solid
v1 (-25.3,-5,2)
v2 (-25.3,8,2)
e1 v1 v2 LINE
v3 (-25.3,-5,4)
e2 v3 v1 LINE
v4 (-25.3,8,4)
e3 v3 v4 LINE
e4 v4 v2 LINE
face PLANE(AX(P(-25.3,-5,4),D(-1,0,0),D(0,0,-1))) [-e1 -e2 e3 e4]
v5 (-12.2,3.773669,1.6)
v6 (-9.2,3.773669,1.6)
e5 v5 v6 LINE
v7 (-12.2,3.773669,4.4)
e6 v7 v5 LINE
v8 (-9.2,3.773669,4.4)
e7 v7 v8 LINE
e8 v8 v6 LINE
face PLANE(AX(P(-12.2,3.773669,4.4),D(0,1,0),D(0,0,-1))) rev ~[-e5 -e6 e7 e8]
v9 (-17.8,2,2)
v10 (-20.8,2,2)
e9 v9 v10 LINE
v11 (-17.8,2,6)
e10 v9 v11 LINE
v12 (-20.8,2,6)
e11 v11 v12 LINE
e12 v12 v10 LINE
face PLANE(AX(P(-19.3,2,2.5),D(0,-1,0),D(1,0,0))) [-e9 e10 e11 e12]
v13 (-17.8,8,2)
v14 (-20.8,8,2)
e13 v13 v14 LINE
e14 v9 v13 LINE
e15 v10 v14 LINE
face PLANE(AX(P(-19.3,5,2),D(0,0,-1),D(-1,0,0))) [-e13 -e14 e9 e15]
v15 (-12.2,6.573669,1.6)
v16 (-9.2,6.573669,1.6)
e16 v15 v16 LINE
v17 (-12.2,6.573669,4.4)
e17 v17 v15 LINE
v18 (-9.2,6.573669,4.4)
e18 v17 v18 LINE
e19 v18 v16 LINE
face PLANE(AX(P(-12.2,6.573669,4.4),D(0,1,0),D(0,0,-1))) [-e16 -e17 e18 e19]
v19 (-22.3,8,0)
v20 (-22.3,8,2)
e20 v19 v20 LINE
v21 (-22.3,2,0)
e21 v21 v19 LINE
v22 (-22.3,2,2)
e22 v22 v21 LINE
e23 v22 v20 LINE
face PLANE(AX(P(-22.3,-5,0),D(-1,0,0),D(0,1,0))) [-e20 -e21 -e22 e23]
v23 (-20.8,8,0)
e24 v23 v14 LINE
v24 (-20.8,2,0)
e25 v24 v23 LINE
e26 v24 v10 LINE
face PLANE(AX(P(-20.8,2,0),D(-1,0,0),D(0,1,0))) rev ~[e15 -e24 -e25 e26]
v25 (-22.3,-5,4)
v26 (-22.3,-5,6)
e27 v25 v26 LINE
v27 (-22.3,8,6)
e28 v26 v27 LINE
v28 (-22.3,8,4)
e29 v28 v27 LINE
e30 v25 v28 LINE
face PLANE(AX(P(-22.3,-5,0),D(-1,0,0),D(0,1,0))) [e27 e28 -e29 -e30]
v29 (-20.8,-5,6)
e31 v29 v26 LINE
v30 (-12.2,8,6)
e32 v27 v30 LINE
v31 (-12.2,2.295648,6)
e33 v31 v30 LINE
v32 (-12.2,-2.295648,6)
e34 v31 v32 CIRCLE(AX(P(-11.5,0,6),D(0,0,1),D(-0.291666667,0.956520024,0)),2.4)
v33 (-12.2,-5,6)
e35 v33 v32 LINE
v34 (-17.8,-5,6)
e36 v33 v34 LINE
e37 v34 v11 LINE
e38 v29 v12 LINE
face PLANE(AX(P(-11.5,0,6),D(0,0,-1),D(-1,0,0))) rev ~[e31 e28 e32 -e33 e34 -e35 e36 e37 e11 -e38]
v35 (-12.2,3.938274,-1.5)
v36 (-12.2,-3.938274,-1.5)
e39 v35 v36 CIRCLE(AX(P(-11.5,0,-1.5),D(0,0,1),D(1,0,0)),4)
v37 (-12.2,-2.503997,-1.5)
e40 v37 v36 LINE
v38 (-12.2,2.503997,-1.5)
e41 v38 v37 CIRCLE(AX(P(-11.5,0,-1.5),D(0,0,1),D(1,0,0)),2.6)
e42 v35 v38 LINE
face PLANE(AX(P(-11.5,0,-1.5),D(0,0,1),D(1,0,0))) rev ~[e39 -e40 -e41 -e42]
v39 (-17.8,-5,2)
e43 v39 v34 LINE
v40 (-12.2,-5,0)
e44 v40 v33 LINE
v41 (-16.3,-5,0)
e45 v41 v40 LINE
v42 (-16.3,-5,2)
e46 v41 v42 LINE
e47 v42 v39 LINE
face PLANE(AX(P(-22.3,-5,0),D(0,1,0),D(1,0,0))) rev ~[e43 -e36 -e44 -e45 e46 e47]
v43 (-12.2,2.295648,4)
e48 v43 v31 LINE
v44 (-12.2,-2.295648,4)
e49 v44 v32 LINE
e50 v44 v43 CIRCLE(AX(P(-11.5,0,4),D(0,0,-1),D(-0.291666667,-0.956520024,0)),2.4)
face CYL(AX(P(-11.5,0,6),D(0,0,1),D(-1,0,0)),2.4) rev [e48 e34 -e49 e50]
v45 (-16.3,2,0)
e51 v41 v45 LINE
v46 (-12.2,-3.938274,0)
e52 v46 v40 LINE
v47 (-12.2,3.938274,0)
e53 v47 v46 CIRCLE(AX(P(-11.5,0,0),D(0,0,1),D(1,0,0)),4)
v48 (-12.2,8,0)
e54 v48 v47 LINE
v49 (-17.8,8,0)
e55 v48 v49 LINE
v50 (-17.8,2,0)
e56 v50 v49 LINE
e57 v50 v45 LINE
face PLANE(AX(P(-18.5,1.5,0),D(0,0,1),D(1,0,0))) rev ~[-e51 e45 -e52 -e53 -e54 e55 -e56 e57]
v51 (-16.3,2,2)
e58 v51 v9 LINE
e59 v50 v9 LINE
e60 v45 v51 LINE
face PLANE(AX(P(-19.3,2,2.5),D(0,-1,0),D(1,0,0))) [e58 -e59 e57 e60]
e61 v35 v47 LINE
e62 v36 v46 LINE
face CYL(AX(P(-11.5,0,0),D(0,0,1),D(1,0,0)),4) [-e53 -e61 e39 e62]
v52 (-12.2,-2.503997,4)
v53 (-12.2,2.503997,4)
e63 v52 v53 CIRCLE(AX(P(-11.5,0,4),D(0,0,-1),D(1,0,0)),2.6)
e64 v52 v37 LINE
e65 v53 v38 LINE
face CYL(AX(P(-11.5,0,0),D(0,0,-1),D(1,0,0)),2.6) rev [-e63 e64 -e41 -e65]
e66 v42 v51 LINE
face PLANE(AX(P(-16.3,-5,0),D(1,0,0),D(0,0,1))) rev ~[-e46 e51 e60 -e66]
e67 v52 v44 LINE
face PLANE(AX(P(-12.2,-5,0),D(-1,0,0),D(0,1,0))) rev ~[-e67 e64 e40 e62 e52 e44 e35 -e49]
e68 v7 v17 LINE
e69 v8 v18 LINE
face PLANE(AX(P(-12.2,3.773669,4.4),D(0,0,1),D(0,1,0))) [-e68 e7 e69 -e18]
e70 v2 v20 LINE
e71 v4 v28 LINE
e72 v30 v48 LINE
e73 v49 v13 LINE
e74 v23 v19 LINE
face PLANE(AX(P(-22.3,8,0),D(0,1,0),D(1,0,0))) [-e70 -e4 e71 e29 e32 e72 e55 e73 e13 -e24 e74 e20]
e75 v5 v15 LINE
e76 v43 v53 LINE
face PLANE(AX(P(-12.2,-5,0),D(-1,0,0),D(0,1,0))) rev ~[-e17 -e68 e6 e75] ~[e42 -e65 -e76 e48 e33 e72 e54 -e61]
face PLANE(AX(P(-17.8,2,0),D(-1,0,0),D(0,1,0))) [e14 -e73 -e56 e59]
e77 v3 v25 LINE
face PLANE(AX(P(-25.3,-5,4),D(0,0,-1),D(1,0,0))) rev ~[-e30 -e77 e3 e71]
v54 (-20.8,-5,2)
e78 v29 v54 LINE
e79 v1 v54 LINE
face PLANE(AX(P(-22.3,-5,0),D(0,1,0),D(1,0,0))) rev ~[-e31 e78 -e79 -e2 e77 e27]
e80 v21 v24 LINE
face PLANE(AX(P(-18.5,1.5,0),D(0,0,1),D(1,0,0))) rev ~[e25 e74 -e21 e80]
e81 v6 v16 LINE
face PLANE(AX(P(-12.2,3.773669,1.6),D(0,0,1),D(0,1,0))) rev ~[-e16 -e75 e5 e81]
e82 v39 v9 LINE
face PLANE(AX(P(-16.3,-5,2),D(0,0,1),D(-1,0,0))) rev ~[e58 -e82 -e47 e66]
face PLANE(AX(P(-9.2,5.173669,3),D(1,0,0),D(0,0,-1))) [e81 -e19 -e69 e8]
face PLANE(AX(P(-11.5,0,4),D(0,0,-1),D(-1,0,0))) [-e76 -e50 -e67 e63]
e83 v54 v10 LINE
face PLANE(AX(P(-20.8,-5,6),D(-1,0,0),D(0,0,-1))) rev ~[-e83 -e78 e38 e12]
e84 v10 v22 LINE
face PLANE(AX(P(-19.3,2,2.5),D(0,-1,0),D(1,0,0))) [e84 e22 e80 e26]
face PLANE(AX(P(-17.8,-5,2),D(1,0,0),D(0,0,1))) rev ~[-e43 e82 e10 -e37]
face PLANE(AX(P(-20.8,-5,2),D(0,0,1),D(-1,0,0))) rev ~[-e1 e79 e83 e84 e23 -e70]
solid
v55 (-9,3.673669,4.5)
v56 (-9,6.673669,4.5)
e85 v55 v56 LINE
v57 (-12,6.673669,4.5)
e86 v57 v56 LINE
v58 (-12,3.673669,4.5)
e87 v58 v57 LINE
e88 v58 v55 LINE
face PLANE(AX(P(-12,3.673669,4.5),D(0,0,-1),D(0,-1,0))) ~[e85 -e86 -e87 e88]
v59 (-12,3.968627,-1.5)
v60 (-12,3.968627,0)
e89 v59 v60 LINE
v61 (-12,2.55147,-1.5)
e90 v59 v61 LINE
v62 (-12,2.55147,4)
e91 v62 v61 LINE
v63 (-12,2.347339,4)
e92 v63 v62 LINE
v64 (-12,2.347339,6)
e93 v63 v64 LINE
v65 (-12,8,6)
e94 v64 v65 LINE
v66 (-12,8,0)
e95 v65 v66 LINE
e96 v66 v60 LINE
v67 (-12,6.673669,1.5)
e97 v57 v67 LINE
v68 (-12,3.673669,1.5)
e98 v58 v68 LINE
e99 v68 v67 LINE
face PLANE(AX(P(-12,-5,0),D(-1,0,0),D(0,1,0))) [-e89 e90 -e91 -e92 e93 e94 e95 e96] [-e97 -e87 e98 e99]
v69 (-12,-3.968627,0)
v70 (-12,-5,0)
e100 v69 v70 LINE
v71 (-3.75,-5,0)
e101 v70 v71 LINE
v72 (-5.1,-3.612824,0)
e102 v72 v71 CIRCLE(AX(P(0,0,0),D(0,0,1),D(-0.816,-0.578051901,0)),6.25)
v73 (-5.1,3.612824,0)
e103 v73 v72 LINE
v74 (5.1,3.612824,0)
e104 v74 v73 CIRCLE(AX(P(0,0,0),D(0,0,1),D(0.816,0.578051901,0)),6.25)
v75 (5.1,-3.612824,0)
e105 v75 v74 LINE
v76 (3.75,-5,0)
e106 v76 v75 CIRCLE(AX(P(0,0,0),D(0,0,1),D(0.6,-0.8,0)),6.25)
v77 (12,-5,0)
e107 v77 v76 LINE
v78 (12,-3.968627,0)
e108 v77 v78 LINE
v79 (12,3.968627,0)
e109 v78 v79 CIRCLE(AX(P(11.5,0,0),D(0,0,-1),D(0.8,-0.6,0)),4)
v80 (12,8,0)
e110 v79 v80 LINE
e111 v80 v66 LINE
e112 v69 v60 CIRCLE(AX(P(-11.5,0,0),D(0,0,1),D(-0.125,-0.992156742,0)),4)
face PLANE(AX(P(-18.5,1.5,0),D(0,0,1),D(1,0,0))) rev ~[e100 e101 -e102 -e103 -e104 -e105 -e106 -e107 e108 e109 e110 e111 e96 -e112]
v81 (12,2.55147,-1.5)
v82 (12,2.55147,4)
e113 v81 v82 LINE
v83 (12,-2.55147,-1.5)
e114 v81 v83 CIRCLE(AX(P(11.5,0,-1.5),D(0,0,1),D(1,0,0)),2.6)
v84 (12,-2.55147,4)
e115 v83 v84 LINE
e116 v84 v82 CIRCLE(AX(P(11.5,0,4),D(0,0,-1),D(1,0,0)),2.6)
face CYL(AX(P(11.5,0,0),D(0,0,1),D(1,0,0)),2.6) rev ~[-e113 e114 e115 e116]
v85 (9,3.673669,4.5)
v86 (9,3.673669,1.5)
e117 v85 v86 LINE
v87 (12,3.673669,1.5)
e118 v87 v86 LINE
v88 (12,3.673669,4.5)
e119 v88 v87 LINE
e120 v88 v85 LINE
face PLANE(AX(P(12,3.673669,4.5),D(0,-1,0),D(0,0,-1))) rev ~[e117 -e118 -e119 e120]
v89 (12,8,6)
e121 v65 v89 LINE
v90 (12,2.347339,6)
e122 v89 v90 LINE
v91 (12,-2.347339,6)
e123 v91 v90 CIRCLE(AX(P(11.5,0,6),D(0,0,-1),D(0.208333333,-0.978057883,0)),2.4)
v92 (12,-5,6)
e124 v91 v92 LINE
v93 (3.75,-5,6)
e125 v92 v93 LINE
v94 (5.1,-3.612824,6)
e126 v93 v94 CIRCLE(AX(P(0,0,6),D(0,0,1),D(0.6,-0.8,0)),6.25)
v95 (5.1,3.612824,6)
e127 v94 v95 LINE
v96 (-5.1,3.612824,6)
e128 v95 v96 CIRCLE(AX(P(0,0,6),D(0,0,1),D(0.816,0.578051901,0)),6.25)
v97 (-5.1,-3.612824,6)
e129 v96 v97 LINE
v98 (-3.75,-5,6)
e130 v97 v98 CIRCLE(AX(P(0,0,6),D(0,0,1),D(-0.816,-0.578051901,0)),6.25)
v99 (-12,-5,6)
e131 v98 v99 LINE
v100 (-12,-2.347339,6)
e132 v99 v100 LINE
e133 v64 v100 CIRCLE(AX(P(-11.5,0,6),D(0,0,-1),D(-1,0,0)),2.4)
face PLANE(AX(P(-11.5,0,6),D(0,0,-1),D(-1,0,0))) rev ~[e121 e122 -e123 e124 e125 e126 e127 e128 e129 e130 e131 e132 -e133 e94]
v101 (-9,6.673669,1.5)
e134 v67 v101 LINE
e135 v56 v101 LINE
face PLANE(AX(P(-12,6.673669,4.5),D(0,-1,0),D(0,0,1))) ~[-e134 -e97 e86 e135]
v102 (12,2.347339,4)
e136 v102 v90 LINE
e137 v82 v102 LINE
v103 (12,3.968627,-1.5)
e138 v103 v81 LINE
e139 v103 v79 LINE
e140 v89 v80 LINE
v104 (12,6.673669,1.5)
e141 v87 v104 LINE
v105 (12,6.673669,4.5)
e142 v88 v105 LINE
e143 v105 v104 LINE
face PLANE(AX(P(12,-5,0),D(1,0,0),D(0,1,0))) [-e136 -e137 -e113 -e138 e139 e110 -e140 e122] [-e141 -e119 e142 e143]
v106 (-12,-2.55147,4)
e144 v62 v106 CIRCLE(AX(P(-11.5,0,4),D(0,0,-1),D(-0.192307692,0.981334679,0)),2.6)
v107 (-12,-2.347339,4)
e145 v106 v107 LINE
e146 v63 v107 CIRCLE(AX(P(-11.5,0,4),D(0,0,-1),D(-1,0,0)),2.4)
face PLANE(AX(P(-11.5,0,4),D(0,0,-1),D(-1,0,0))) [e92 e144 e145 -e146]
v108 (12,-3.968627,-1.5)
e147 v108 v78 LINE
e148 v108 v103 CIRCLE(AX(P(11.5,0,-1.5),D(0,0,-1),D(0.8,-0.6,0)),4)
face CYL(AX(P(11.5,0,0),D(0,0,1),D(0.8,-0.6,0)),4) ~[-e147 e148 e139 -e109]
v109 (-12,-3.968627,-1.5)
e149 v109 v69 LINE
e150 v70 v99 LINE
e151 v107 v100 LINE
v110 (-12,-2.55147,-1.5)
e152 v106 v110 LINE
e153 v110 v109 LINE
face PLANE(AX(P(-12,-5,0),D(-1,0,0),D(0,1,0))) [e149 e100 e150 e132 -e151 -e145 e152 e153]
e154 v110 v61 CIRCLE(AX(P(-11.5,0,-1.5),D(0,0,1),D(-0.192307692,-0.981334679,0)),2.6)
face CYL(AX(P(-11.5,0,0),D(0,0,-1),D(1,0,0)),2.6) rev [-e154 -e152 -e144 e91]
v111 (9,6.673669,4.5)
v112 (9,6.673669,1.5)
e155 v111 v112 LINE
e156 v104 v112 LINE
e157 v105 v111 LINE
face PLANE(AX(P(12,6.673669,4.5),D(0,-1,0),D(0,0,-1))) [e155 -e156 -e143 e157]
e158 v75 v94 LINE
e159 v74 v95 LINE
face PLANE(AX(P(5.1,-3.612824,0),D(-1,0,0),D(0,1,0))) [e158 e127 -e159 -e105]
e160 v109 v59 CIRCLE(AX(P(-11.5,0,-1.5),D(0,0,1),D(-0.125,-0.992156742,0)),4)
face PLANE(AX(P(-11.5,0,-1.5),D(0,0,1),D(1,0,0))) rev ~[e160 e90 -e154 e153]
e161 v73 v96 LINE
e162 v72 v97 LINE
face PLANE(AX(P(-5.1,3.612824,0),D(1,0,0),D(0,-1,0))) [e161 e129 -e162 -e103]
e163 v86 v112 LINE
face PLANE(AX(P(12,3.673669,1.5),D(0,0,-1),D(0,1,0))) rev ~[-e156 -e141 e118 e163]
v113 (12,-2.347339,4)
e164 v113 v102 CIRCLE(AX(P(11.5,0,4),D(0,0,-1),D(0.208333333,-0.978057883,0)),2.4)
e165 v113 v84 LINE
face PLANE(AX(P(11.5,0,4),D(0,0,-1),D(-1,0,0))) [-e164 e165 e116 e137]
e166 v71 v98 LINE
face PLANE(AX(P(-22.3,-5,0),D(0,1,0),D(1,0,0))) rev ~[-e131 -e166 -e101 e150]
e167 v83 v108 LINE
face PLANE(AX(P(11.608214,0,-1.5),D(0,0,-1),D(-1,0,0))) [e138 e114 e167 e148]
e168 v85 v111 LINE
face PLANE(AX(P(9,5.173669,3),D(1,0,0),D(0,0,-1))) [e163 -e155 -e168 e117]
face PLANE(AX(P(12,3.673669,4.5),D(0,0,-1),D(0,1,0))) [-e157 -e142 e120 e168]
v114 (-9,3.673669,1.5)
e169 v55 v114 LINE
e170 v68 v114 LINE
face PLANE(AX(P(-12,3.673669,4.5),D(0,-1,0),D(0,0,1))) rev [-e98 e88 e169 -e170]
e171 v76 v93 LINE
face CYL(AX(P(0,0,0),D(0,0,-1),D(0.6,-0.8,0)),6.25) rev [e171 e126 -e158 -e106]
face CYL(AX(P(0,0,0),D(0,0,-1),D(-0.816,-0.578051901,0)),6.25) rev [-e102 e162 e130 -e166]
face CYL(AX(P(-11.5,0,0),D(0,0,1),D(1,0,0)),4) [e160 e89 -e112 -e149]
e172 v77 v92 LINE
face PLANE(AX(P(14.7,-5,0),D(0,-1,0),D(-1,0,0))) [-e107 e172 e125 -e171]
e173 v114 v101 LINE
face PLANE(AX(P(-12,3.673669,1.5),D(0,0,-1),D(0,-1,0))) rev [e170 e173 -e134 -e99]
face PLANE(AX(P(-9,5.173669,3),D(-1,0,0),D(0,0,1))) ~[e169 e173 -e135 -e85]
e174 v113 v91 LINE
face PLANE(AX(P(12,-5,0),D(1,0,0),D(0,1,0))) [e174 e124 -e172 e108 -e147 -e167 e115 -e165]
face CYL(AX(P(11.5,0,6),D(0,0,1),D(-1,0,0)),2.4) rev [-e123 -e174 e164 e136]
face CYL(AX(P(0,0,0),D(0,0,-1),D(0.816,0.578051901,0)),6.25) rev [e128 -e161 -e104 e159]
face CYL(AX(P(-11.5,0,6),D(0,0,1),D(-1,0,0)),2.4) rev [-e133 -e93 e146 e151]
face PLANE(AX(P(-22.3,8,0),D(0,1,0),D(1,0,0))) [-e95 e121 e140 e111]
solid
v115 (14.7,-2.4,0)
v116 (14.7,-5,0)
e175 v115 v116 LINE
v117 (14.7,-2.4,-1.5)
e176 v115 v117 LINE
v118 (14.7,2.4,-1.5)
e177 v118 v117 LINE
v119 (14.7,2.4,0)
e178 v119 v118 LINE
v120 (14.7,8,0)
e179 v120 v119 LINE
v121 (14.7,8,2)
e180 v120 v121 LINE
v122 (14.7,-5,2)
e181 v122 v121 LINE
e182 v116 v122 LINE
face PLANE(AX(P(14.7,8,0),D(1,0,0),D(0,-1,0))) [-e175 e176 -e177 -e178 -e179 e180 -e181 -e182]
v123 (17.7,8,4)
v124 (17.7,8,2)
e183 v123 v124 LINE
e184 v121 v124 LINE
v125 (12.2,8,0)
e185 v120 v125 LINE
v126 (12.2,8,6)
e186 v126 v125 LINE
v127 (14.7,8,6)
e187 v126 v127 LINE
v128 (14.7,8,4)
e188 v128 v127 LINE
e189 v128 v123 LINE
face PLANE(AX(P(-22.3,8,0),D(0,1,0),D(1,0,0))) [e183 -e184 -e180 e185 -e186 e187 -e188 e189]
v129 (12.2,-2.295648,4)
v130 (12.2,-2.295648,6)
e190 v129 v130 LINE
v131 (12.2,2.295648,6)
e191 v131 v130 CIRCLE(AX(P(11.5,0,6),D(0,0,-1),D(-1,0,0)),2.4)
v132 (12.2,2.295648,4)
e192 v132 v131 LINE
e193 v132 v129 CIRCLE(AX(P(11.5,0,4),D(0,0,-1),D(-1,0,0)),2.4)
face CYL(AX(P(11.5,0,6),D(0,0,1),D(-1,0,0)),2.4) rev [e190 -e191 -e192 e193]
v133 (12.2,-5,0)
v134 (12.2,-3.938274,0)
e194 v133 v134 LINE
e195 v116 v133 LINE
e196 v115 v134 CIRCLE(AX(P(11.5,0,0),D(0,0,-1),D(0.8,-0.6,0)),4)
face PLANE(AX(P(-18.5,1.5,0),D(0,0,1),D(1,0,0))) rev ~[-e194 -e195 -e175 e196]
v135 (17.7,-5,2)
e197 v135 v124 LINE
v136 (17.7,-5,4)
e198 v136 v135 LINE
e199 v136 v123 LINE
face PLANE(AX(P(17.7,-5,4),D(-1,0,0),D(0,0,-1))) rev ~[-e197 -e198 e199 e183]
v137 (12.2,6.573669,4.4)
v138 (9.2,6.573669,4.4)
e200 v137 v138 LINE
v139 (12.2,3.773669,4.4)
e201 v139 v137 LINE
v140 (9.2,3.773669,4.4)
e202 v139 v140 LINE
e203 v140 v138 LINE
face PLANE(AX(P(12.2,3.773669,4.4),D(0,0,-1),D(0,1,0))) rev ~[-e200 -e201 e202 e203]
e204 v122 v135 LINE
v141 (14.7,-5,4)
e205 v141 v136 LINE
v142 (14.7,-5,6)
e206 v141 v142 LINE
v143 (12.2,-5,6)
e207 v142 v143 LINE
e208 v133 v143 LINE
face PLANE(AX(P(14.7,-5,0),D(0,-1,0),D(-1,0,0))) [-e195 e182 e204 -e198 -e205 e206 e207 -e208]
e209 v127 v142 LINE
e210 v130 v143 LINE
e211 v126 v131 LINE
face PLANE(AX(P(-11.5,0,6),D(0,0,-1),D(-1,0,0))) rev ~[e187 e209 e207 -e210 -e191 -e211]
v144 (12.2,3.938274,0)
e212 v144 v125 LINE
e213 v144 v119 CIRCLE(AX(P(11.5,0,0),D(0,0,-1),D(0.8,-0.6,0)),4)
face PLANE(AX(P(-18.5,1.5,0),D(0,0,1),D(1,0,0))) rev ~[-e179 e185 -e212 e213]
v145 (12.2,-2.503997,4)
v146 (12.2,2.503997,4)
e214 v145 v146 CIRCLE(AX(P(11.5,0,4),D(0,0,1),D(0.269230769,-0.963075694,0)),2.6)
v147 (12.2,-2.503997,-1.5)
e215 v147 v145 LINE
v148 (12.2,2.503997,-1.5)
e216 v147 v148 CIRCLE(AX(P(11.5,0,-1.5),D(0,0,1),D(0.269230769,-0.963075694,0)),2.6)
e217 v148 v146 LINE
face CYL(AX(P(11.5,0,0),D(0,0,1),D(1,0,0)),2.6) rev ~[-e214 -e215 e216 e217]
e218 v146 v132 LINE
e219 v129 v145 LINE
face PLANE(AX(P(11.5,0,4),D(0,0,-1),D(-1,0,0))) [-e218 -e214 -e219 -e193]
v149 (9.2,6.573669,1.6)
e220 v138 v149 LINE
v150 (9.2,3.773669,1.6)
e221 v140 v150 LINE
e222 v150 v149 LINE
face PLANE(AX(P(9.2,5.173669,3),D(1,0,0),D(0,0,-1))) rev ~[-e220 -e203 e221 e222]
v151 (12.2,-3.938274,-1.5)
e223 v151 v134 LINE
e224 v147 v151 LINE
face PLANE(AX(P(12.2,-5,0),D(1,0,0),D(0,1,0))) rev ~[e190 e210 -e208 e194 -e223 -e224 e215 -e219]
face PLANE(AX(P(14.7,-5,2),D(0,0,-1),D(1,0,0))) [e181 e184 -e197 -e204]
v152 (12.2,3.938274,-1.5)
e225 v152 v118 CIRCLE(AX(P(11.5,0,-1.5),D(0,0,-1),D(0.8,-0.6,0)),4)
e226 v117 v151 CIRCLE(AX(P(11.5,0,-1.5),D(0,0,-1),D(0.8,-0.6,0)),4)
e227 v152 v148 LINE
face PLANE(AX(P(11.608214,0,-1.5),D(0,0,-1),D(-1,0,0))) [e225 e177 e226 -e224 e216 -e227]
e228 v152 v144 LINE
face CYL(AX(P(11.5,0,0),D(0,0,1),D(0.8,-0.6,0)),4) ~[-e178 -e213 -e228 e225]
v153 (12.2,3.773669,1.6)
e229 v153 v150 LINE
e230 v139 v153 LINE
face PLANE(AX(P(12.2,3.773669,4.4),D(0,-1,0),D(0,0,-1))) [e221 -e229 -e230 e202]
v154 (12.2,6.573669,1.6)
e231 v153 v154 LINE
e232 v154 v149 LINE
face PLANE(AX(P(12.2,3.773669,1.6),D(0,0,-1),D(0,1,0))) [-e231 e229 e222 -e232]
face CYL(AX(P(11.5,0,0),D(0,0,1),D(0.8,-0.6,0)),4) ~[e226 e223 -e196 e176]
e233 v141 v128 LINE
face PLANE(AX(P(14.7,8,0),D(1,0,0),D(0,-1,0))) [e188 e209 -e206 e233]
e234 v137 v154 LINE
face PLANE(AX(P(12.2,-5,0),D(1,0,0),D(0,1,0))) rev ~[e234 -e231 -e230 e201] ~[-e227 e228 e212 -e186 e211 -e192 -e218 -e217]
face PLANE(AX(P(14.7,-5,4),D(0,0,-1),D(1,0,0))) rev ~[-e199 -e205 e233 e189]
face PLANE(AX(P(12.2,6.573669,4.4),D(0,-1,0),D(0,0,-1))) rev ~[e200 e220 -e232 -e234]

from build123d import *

# Parameters (mm, degrees)
SKETCH1_R            = 1
BOSS_EXTRUDE1_DEPTH  = 6
SKETCH2_R            = 2.6
CUT_EXTRUDE1_DEPTH   = 6
SKETCH3_W            = 7.6
SKETCH3_H            = 13
BOSS_EXTRUDE2_DEPTH  = 6
BOSS_EXTRUDE5_START  = -5
SKETCH6_W            = 3
SKETCH6_H            = 2
BOSS_EXTRUDE5_DEPTH  = 13
BOSS_EXTRUDE6_START  = -6
SKETCH10_R           = 4
SKETCH10_R_2         = 2.6
BOSS_EXTRUDE6_DEPTH  = 1.5
BOSS_EXTRUDE7_START  = -6
SKETCH12_R           = 2.6
SKETCH12_R_2         = 2.4
BOSS_EXTRUDE7_DEPTH  = 2
CUT_EXTRUDE2_DEPTH   = 7
SKETCH14_W           = 3
SKETCH14_H           = 6
CUT_EXTRUDE3_DEPTH   = 2
SKETCH15_W           = 0.2
SKETCH15_H           = 13
CUT_EXTRUDE5_DEPTH   = 7.5
SKETCH16_W           = 3
SKETCH16_H           = 3
CUT_EXTRUDE6_DEPTH   = 3
SKETCH17_W           = 2.8
SKETCH17_H           = 2.8
BOSS_EXTRUDE9_DEPTH  = 3
BOSS_EXTRUDE10_START = 24.4
SKETCH17_2_W         = 2.8
SKETCH17_2_H         = 2.8
BOSS_EXTRUDE10_DEPTH = 3


with BuildPart() as part:
    # Sketch1 → Boss-Extrude1 (new body)
    with BuildSketch(Plane.XY):
        with BuildLine():
            ThreePointArc((3.75, -5), (4.47902769, -4.358991965), (5.1, -3.61282438))
            Line((5.1, -3.61282438), (5.1, 3.61282438))
            ThreePointArc((5.1, 3.61282438), (0, 6.25), (-5.1, 3.61282438))
            Line((-5.1, 3.61282438), (-5.1, -3.61282438))
            ThreePointArc((-5.1, -3.61282438), (-4.47902769, -4.358991965), (-3.75, -5))
            Line((-3.75, -5), (-14.7, -5))
            Line((-14.7, -5), (-14.7, 8))
            Line((-14.7, 8), (14.7, 8))
            Line((14.7, 8), (14.7, -5))
            Line((14.7, -5), (3.75, -5))
        make_face()
        with Locations((11.5, 0)):
            Circle(SKETCH1_R, mode=Mode.SUBTRACT)
        with Locations((-11.5, 0)):
            Circle(SKETCH1_R, mode=Mode.SUBTRACT)
    extrude(amount=BOSS_EXTRUDE1_DEPTH)

    # Sketch2 → Cut-Extrude1 (cut)
    with BuildSketch(Plane.XY):
        with Locations((-11.5, 0)):
            Circle(SKETCH2_R)
        with Locations((11.5, 0)):
            Circle(SKETCH2_R)
    extrude(amount=CUT_EXTRUDE1_DEPTH, mode=Mode.SUBTRACT)

    # Sketch3 → Boss-Extrude2 (add)
    with BuildSketch(Plane.XY):
        with Locations((-18.5, 1.5)):
            Rectangle(SKETCH3_W, SKETCH3_H)
    extrude(amount=BOSS_EXTRUDE2_DEPTH)

    # Sketch6 → Boss-Extrude5 (add)
    with BuildSketch(Plane(origin=(0, 0, 0), x_dir=(1, 0, 0), z_dir=(0, 1, 0)).offset(BOSS_EXTRUDE5_START)):
        with Locations((-23.8, -3)):
            Rectangle(SKETCH6_W, SKETCH6_H)
        with Locations((16.2, -3)):
            Rectangle(SKETCH6_W, SKETCH6_H)
    extrude(amount=BOSS_EXTRUDE5_DEPTH)

    # Sketch10 → Boss-Extrude6 (add)
    with BuildSketch(Plane.XY.offset(6).offset(BOSS_EXTRUDE6_START)):
        with Locations((-11.5, 0)):
            Circle(SKETCH10_R)
        with Locations((-11.5, 0)):
            Circle(SKETCH10_R_2, mode=Mode.SUBTRACT)
        with BuildLine():
            Line((14.7, 2.4), (14.7, -2.4))
            ThreePointArc((14.7, -2.4), (7.5, 0), (14.7, 2.4))
        make_face()
        with Locations((11.5, 0)):
            Circle(SKETCH10_R_2, mode=Mode.SUBTRACT)
    extrude(amount=-BOSS_EXTRUDE6_DEPTH)

    # Sketch12 → Boss-Extrude7 (add)
    with BuildSketch(Plane(origin=(0, 0, 0), x_dir=(-1, 0, 0), z_dir=(0, 0, -1)).offset(BOSS_EXTRUDE7_START)):
        with Locations((11.5, 0)):
            Circle(SKETCH12_R)
        with Locations((11.5, 0)):
            Circle(SKETCH12_R_2, mode=Mode.SUBTRACT)
        with Locations((-11.5, 0)):
            Circle(SKETCH12_R)
        with Locations((-11.5, 0)):
            Circle(SKETCH12_R_2, mode=Mode.SUBTRACT)
    extrude(amount=BOSS_EXTRUDE7_DEPTH)

    # Sketch13 → Cut-Extrude2 (cut)
    with BuildSketch(Plane.XZ.offset(5)):
        Polygon((-22.3, 0), (-16.3, 0), (-16.3, 2), (-17.8, 2), (-17.8, 6), (-20.8, 6), (-20.8, 2), (-22.3, 2), align=None)
    extrude(amount=-CUT_EXTRUDE2_DEPTH, mode=Mode.SUBTRACT)

    # Sketch14 → Cut-Extrude3 (cut)
    with BuildSketch(Plane(origin=(0, 0, 0), x_dir=(-1, 0, 0), z_dir=(0, 0, -1))):
        with Locations((19.3, 5)):
            Rectangle(SKETCH14_W, SKETCH14_H)
    extrude(amount=-CUT_EXTRUDE3_DEPTH, mode=Mode.SUBTRACT)

    # Sketch15 → Cut-Extrude5 (cut, symmetric)
    with BuildSketch(Plane.XY):
        with Locations((-12.1, 1.5)):
            Rectangle(SKETCH15_W, SKETCH15_H)
        with Locations((12.1, 1.5)):
            Rectangle(SKETCH15_W, SKETCH15_H)
    extrude(amount=CUT_EXTRUDE5_DEPTH, both=True, mode=Mode.SUBTRACT)

    # Sketch16 → Cut-Extrude6 (cut)
    with BuildSketch(Plane(origin=(12, 0, 0), x_dir=(0, 0, -1), z_dir=(1, 0, 0))):
        with Locations((-3, 5.173669459)):
            Rectangle(SKETCH16_W, SKETCH16_H)
    cut_extrude6 = extrude(amount=-CUT_EXTRUDE6_DEPTH, mode=Mode.SUBTRACT)

    # Mirror1: Cut-Extrude6 across plane
    add(cut_extrude6.mirror(Plane(origin=(0, 0, 0), x_dir=(0, 0, 1), z_dir=(1, 0, 0))), mode=Mode.SUBTRACT)

    # Sketch17 → Boss-Extrude9 (add)
    with BuildSketch(Plane(origin=(-12.2, 0, 0), x_dir=(0, 0, -1), z_dir=(1, 0, 0))):
        with Locations((-3, 5.173669459)):
            Rectangle(SKETCH17_W, SKETCH17_H)
    extrude(amount=BOSS_EXTRUDE9_DEPTH)

    # Sketch17<2> → Boss-Extrude10 (add)
    with BuildSketch(Plane(origin=(-12.2, 0, 0), x_dir=(0, 0, -1), z_dir=(1, 0, 0)).offset(BOSS_EXTRUDE10_START)):
        with Locations((-3, 5.173669459)):
            Rectangle(SKETCH17_2_W, SKETCH17_2_H)
    extrude(amount=-BOSS_EXTRUDE10_DEPTH)


solid = part.part
